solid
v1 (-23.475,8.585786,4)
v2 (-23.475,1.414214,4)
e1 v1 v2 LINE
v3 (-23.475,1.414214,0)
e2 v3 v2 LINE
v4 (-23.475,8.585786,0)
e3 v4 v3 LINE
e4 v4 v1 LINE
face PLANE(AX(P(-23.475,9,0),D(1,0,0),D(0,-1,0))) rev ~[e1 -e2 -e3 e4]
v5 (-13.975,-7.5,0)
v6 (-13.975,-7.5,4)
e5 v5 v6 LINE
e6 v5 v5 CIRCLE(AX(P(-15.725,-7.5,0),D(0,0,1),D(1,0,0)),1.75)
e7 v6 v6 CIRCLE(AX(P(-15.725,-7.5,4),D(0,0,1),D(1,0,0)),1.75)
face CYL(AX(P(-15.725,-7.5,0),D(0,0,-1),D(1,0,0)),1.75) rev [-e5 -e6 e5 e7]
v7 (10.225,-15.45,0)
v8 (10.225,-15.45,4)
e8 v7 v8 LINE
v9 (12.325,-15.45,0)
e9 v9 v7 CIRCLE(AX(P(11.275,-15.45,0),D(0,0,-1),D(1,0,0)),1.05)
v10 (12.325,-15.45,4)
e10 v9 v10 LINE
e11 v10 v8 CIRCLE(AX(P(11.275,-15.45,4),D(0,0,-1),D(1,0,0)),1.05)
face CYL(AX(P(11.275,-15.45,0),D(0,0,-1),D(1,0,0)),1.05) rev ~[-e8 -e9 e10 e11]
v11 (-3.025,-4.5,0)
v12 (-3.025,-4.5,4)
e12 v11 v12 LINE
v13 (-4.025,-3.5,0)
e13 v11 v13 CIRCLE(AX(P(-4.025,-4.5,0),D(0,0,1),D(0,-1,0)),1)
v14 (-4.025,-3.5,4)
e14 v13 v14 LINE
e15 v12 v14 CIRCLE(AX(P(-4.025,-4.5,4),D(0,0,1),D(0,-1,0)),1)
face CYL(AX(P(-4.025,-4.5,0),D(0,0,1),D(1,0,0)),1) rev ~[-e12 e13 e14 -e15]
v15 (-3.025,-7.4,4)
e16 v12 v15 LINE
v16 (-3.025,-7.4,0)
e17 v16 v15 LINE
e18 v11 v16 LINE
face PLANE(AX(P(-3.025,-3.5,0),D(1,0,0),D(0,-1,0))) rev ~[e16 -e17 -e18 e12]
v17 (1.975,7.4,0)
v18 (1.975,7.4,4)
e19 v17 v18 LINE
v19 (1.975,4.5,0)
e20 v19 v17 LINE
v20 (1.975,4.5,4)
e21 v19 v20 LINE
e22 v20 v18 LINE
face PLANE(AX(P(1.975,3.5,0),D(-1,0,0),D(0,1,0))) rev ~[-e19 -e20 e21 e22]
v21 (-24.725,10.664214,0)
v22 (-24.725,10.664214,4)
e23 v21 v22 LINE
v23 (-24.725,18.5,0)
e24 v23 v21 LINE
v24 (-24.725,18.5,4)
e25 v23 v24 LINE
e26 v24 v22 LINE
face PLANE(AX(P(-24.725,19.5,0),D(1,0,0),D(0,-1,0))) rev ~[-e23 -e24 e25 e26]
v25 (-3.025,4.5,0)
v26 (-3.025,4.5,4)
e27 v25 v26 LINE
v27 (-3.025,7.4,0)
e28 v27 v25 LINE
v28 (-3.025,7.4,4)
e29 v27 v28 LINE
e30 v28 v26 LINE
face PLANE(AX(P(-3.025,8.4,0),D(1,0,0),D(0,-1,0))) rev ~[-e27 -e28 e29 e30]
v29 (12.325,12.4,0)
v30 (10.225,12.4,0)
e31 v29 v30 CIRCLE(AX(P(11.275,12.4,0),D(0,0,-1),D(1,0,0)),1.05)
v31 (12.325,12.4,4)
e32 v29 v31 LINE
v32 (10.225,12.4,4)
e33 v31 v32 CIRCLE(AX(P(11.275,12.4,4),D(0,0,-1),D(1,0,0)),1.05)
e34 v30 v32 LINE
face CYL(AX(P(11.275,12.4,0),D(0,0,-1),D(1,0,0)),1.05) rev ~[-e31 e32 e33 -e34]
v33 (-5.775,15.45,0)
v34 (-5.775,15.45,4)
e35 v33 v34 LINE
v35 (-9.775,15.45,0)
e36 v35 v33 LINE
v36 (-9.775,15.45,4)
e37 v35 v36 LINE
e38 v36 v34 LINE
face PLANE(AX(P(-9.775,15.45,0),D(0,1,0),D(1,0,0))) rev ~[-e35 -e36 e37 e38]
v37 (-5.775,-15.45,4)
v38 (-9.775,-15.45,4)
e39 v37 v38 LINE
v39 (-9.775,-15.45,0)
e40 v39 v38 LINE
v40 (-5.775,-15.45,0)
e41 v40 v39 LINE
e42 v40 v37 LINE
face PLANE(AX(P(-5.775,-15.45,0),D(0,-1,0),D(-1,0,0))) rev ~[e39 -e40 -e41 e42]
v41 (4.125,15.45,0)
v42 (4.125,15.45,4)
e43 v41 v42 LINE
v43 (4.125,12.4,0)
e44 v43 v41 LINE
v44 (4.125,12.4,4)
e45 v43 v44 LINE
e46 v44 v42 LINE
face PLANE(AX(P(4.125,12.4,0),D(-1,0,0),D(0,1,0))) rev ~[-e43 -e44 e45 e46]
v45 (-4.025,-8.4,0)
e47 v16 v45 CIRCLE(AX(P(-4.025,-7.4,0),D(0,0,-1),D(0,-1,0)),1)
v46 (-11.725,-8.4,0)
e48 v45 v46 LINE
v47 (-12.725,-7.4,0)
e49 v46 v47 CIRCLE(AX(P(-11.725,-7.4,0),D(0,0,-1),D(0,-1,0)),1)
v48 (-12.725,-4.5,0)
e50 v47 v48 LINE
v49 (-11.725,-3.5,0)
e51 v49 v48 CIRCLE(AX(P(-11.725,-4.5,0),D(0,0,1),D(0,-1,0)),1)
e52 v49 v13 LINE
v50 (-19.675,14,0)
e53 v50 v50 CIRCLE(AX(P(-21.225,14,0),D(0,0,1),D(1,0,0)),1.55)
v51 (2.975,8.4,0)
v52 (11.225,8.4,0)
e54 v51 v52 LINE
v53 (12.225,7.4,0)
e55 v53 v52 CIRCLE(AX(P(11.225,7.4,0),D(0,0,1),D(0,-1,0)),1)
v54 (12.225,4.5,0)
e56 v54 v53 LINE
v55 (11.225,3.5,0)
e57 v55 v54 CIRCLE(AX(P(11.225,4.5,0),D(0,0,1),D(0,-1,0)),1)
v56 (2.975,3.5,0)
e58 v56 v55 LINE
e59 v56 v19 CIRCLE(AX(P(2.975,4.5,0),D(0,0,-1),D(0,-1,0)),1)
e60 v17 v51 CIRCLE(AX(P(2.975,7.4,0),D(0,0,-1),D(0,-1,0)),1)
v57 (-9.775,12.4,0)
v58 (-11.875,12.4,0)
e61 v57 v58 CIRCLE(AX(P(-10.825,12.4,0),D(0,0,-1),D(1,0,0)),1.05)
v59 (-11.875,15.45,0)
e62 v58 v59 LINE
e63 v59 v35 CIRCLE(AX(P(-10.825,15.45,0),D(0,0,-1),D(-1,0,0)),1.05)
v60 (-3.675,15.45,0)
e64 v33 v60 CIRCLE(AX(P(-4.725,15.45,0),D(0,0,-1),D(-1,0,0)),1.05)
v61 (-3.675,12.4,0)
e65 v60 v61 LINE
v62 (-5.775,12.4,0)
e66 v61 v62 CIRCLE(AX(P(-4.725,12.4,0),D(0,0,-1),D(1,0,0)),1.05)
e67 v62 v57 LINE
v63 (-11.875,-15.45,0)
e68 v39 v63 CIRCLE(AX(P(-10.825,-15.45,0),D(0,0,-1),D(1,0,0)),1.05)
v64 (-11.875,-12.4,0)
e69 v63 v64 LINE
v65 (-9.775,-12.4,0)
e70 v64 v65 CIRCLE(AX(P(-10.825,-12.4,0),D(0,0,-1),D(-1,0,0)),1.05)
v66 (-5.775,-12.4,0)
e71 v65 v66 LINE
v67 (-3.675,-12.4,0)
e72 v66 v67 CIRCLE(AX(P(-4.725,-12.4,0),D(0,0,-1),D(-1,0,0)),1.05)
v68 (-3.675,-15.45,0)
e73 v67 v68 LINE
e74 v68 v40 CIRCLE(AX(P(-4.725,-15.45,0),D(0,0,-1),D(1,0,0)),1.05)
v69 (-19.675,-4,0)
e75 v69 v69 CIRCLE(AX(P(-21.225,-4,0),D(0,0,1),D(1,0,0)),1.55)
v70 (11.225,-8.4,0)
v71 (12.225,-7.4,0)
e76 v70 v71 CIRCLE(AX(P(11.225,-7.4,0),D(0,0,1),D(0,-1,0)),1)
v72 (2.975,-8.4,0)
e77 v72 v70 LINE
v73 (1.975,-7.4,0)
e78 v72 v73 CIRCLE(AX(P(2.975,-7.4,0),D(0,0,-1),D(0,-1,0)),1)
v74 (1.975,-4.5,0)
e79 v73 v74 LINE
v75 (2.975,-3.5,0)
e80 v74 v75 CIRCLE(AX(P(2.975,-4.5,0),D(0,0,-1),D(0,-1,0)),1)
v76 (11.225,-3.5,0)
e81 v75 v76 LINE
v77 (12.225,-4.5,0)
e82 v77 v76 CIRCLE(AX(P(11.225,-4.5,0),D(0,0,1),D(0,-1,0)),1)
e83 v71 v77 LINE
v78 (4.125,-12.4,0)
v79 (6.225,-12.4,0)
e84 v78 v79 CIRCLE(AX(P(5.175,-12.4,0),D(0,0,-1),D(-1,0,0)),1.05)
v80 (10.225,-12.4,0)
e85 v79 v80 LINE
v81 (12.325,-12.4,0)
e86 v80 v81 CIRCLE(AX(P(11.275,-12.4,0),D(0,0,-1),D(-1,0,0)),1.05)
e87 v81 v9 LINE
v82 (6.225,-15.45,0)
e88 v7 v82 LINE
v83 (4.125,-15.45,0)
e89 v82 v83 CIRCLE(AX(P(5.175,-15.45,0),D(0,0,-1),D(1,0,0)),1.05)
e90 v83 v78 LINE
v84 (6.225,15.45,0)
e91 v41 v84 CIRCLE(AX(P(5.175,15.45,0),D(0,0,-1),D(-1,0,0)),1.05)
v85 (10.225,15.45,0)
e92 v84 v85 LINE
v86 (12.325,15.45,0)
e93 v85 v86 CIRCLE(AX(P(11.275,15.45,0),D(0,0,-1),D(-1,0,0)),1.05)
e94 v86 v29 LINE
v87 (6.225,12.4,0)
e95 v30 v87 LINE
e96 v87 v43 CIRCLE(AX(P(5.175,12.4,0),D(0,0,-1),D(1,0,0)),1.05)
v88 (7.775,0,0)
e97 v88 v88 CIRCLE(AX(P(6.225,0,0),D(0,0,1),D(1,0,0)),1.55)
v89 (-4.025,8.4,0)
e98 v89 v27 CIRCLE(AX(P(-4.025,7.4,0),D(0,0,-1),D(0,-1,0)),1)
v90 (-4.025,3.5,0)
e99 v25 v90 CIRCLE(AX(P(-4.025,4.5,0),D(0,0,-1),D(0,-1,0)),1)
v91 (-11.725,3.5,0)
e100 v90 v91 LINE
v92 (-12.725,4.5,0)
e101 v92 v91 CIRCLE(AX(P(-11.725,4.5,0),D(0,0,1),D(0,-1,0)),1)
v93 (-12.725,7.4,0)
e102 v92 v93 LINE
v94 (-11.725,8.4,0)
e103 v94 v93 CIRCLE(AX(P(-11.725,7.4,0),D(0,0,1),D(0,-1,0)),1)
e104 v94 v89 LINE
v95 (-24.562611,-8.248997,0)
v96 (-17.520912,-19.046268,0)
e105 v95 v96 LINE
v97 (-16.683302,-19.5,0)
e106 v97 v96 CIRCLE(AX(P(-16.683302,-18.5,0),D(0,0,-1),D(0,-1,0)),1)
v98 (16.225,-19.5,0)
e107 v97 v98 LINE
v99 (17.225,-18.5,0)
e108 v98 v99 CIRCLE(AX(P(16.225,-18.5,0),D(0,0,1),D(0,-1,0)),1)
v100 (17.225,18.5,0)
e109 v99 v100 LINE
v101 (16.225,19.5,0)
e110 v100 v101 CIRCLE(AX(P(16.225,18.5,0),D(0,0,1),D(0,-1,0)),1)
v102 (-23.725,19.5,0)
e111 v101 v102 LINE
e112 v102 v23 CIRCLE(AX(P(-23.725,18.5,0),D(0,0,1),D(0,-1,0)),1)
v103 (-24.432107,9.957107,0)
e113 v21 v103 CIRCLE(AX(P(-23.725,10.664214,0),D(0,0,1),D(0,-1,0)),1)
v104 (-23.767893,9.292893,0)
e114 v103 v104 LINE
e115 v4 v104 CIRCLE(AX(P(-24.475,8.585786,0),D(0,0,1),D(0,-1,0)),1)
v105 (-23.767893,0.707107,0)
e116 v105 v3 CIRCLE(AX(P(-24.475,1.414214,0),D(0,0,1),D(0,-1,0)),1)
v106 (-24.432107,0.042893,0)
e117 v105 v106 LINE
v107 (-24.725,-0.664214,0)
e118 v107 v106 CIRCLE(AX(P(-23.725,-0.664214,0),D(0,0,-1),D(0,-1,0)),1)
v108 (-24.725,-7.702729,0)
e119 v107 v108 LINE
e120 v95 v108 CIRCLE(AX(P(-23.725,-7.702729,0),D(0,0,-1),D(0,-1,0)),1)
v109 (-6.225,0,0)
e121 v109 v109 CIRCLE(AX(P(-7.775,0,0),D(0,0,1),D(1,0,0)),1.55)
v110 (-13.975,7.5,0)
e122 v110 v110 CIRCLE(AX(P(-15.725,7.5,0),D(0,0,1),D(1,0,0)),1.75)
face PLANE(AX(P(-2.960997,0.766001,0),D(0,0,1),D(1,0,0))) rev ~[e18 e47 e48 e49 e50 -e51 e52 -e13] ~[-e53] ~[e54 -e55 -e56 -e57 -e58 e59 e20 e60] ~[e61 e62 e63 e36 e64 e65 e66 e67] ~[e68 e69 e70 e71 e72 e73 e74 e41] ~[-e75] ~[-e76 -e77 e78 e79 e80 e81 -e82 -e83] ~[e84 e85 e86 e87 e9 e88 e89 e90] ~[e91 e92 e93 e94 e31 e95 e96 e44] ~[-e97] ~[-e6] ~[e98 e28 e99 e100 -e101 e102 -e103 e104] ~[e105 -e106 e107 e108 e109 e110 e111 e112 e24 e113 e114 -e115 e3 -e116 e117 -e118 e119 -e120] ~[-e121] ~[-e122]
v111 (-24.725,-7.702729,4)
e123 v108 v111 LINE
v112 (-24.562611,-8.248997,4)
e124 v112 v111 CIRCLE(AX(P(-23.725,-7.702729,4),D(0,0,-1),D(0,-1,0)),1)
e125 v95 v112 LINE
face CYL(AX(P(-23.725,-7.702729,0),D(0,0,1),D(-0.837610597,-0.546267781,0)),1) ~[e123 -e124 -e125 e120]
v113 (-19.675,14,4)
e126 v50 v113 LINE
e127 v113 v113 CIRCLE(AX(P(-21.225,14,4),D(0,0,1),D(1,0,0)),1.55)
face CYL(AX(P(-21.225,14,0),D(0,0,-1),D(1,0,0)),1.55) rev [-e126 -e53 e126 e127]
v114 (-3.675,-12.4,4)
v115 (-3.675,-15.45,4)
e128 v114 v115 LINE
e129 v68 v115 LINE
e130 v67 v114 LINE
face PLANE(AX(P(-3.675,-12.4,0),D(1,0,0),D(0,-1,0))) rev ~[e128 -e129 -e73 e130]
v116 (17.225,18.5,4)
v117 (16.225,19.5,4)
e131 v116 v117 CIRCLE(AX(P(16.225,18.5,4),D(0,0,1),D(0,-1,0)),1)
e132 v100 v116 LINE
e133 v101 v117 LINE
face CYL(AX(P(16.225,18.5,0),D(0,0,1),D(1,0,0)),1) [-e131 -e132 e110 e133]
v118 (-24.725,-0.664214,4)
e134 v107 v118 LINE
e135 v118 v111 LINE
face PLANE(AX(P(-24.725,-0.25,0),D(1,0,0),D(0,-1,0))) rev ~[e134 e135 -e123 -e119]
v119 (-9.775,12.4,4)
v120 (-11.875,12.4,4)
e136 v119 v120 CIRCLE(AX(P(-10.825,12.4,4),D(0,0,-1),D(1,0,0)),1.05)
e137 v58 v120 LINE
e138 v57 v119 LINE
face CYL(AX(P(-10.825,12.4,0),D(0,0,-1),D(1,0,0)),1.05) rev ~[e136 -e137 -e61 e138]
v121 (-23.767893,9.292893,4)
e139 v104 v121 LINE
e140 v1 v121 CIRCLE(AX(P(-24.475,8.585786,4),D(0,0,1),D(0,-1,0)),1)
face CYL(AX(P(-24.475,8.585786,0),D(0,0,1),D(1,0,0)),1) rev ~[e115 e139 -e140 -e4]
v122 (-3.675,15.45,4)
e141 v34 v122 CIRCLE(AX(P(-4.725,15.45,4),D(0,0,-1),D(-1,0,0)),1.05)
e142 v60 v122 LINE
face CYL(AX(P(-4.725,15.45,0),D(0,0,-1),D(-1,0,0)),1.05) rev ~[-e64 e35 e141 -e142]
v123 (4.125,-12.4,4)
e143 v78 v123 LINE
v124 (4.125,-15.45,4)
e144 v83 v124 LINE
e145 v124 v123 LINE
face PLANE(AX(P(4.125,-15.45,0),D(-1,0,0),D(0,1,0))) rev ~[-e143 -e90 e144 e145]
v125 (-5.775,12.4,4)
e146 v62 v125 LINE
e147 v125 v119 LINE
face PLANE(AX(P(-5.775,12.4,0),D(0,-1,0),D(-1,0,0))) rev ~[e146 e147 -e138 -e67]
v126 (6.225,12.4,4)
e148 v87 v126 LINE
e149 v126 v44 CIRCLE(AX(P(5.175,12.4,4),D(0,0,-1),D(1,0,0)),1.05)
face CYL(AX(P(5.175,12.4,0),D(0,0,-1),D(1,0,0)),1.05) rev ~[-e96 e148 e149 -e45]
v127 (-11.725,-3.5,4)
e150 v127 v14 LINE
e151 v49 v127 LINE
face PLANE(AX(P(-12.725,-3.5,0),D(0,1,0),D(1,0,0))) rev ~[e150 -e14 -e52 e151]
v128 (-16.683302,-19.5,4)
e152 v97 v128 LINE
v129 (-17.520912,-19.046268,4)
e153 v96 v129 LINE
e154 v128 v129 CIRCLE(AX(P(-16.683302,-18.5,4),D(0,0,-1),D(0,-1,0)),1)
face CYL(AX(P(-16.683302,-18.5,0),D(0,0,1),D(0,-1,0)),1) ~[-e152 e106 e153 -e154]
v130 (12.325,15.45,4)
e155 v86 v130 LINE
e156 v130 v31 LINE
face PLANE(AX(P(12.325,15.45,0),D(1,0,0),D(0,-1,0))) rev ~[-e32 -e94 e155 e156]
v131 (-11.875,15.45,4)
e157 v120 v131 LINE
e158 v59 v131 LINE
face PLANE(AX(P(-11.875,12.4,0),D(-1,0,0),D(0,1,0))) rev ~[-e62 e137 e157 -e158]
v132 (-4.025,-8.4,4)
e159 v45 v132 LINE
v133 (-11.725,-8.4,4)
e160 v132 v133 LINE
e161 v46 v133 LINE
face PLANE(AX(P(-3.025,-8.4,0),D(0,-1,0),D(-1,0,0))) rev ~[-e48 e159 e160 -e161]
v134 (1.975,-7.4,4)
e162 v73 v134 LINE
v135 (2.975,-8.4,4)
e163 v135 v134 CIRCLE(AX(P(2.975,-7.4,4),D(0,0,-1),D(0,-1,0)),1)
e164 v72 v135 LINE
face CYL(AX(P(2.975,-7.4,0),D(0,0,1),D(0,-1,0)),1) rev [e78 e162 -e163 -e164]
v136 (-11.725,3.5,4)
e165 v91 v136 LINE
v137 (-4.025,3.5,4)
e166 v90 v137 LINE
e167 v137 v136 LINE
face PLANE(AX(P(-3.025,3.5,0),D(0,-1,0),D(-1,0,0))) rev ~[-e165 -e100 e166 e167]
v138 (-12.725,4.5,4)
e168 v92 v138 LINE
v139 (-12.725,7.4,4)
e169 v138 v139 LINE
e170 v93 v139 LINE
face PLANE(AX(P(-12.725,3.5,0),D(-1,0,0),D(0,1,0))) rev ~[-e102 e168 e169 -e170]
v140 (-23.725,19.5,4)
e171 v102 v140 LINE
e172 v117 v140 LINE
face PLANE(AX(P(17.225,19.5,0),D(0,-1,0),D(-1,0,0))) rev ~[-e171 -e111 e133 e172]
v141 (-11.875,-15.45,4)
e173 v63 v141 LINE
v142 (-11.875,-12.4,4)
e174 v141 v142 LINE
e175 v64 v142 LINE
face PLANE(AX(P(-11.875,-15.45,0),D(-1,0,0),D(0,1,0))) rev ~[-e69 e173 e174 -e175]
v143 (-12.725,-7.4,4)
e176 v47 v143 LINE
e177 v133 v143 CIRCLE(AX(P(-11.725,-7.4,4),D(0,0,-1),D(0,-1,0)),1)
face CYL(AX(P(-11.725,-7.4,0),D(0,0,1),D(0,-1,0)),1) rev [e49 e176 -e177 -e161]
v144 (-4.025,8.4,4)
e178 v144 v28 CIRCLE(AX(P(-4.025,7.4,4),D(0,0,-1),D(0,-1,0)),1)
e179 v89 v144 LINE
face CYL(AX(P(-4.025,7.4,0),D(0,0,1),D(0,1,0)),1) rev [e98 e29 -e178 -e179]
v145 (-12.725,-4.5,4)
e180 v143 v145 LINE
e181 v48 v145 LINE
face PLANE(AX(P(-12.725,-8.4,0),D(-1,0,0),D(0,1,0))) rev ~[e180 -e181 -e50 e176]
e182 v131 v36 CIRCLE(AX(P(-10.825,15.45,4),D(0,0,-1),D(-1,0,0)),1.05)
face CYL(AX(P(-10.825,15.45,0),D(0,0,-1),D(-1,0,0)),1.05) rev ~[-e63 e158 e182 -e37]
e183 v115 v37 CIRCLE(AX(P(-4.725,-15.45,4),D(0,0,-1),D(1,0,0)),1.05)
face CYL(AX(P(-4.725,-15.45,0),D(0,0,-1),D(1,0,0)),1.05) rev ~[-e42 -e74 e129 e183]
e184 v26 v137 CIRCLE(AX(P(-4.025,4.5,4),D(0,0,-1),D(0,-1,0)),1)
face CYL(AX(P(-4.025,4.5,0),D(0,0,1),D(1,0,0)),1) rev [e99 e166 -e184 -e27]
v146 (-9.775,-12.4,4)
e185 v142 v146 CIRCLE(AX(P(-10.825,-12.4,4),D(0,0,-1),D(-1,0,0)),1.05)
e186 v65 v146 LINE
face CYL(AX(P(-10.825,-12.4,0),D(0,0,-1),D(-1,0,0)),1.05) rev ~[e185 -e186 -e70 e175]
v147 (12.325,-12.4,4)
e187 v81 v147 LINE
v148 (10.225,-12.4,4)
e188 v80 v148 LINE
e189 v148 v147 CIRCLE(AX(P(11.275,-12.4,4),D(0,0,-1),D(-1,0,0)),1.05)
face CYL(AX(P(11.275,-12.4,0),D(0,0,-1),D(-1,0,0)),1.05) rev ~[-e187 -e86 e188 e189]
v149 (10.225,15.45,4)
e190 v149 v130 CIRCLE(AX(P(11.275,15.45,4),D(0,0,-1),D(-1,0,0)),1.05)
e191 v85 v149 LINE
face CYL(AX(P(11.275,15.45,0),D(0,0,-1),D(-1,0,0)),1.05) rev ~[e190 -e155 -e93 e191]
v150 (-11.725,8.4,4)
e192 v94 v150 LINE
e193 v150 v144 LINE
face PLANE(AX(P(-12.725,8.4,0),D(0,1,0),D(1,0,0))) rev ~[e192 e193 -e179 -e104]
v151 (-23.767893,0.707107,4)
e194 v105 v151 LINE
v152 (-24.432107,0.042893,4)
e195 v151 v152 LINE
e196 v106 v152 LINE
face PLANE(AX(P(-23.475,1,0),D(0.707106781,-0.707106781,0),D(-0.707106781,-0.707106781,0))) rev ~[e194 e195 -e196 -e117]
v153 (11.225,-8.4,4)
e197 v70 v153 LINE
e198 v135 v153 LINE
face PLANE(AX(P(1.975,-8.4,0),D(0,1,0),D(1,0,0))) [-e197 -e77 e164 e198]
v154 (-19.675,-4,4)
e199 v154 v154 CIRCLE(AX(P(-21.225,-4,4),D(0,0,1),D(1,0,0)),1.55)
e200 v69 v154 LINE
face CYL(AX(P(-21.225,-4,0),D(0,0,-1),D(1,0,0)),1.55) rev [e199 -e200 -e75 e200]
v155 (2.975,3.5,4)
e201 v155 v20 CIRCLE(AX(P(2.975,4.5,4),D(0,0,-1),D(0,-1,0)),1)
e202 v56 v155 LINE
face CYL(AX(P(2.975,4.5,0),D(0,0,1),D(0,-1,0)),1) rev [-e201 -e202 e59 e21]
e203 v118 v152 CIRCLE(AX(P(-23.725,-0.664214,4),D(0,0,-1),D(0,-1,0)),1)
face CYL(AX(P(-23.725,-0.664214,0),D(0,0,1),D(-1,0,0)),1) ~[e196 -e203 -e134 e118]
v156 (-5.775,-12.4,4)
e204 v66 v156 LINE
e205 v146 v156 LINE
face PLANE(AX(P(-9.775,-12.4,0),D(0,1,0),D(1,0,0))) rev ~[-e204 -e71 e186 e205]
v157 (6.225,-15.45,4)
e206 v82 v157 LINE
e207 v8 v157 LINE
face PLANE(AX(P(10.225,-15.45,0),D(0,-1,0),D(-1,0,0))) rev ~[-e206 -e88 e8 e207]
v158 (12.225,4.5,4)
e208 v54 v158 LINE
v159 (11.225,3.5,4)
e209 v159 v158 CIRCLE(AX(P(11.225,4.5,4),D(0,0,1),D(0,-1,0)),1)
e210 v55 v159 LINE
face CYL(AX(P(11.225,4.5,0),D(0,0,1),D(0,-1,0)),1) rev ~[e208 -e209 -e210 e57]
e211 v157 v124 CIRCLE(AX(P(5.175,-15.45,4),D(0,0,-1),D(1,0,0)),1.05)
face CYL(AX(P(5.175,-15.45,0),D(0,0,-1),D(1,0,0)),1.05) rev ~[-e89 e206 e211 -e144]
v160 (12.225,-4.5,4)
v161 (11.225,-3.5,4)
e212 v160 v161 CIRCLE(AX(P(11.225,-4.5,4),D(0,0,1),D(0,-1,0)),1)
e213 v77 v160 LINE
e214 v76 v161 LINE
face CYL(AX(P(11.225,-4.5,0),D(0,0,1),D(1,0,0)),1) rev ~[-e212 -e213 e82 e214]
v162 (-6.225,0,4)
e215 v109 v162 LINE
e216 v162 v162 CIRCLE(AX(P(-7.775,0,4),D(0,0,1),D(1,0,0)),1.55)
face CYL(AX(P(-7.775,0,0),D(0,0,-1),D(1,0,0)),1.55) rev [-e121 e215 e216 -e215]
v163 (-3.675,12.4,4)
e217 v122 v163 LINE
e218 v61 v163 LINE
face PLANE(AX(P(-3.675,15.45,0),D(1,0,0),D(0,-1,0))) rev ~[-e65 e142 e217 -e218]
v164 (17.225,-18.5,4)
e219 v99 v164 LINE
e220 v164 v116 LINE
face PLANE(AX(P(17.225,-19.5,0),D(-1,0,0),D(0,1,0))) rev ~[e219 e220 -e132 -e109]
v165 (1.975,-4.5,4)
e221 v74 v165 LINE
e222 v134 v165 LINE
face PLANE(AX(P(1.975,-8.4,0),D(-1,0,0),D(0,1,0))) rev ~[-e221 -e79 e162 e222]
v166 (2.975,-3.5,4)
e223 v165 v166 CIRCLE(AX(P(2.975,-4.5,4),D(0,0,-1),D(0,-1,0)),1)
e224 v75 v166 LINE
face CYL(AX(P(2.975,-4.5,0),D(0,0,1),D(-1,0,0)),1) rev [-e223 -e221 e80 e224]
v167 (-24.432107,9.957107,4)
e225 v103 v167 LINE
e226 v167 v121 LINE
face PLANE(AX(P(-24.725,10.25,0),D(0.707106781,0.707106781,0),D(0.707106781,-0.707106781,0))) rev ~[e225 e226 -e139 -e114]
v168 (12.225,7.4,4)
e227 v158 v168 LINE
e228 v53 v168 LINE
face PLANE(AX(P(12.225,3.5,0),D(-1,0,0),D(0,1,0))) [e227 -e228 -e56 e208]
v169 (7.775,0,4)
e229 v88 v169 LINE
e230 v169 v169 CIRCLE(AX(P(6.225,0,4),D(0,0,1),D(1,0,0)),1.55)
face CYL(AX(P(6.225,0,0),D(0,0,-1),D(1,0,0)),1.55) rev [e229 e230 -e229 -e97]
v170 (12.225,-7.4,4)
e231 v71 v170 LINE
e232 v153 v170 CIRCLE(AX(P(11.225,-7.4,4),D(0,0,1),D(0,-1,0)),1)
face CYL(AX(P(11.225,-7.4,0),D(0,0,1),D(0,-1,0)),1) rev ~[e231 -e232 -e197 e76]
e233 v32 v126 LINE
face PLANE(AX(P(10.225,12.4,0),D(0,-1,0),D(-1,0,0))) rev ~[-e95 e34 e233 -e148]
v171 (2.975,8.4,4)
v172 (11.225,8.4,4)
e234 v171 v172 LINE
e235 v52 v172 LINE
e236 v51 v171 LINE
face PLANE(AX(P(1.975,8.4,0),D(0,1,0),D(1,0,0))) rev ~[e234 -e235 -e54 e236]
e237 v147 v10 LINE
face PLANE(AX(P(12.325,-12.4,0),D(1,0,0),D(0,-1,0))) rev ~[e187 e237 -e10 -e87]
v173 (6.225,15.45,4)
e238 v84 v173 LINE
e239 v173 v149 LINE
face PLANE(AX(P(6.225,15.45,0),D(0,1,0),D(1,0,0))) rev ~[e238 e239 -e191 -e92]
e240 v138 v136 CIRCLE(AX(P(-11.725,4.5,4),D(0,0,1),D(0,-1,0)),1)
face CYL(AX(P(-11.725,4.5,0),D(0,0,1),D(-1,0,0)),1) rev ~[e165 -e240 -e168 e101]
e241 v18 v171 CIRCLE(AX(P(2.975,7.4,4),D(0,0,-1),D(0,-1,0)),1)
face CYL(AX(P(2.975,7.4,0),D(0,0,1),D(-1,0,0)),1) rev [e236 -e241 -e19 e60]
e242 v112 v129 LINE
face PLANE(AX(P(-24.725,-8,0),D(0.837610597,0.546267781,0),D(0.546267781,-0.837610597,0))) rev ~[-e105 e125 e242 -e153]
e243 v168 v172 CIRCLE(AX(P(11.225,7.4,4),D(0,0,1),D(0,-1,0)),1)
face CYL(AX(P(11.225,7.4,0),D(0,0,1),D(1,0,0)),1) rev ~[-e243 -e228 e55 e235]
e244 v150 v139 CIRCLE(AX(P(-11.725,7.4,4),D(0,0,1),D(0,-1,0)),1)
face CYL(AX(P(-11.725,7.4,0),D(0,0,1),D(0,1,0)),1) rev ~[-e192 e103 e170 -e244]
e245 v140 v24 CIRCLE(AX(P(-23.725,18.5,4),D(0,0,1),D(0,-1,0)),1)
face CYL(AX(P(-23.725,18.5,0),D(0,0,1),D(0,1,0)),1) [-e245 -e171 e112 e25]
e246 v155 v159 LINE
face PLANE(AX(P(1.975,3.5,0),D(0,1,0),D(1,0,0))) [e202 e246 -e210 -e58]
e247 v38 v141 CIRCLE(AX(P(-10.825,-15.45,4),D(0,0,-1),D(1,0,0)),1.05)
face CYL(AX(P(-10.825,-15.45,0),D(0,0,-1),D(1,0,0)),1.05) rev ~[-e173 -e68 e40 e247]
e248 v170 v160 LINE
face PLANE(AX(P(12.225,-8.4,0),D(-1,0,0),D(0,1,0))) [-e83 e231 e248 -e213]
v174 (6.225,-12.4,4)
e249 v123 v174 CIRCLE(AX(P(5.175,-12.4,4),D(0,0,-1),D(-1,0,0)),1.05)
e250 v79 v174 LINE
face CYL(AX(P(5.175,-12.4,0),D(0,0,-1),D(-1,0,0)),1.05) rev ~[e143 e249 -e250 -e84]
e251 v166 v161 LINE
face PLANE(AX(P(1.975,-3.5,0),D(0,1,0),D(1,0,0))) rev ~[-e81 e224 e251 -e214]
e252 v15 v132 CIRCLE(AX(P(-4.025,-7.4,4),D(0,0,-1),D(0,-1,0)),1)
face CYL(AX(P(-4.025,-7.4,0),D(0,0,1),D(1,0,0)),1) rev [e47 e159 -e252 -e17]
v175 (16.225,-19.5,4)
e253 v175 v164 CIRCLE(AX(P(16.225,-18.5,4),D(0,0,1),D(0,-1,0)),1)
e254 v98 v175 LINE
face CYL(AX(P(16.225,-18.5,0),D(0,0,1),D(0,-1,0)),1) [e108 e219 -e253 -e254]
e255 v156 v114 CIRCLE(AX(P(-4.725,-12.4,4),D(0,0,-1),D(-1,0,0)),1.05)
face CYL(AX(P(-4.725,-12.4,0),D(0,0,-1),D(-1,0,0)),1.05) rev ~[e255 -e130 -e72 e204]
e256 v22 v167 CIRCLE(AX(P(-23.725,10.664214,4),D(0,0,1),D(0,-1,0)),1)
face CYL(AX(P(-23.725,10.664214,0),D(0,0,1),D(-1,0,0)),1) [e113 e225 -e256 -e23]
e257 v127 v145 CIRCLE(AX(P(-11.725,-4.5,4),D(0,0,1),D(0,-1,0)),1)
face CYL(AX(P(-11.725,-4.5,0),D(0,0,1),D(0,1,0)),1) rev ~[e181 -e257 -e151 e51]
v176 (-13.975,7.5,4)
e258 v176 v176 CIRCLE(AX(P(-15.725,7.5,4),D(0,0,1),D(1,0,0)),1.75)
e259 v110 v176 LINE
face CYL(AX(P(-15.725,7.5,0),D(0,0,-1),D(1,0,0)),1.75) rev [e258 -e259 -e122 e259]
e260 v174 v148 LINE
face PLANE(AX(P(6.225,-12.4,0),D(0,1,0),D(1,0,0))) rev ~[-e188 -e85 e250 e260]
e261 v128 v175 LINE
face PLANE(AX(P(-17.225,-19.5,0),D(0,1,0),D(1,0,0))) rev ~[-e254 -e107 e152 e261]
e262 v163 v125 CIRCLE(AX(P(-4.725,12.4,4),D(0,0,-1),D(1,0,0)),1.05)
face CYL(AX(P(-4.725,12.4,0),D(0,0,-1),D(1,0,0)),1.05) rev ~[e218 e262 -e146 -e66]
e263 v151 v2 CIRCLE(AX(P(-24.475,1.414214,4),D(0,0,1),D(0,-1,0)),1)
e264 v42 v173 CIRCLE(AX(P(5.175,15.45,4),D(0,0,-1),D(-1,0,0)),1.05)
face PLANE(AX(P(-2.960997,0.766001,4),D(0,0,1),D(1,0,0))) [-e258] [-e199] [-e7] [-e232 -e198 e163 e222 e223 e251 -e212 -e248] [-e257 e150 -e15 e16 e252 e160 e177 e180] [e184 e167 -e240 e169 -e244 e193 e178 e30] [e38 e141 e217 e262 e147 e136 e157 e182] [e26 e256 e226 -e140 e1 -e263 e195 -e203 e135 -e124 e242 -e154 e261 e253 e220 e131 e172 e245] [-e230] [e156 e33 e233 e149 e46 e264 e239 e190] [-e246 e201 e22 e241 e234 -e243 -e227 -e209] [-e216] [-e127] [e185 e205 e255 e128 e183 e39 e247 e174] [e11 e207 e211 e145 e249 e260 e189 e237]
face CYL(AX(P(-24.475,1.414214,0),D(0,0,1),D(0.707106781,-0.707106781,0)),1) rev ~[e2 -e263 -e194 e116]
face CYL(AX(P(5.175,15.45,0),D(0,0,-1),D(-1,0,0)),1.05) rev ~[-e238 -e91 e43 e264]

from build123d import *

# Parameters (mm, degrees)
SKETCH_1_R      = 1.75
SKETCH_1_R_2    = 1.55
SKETCH_1_W      = 10.25
SKETCH_1_H      = 4.9
EXTRUDE_1_DEPTH = 4
FILLET_1_R      = 1


with BuildPart() as part:
    # 草图1 → 凸台-拉伸1 (new body)
    with BuildSketch(Plane.XY):
        Polygon((-17.225, -19.5), (17.225, -19.5), (17.225, 19.5), (-14.225, 19.5), (-24.725, 19.5), (-24.725, 10.25), (-23.475, 9), (-23.475, 1), (-24.725, -0.25), (-24.725, -8), align=None)
        with BuildLine():
            Line((-5.775, -15.45), (-9.775, -15.45))
            ThreePointArc((-9.775, -15.45), (-10.825, -16.5), (-11.875, -15.45))
            Line((-11.875, -15.45), (-11.875, -12.4))
            ThreePointArc((-11.875, -12.4), (-10.825, -11.35), (-9.775, -12.4))
            Line((-9.775, -12.4), (-5.775, -12.4))
            ThreePointArc((-5.775, -12.4), (-4.725, -11.35), (-3.675, -12.4))
            Line((-3.675, -12.4), (-3.675, -15.45))
            ThreePointArc((-3.675, -15.45), (-4.725, -16.5), (-5.775, -15.45))
        make_face(mode=Mode.SUBTRACT)
        with Locations((-15.725, -7.5)):
            Circle(SKETCH_1_R, mode=Mode.SUBTRACT)
        with Locations((-21.225, -4)):
            Circle(SKETCH_1_R_2, mode=Mode.SUBTRACT)
        Polygon((-3.025, -8.4), (-12.225, -8.4), (-12.725, -8.4), (-12.725, -3.5), (-12.225, -3.5), (-3.025, -3.5), align=None, mode=Mode.SUBTRACT)
        with BuildLine():
            ThreePointArc((6.225, -15.45), (5.175, -16.5), (4.125, -15.45))
            Line((4.125, -15.45), (4.125, -12.4))
            ThreePointArc((4.125, -12.4), (5.175, -11.35), (6.225, -12.4))
            Line((6.225, -12.4), (10.225, -12.4))
            ThreePointArc((10.225, -12.4), (11.275, -11.35), (12.325, -12.4))
            Line((12.325, -12.4), (12.325, -15.45))
            ThreePointArc((12.325, -15.45), (11.275, -16.5), (10.225, -15.45))
            Line((10.225, -15.45), (6.225, -15.45))
        make_face(mode=Mode.SUBTRACT)
        with Locations((7.1, -5.95)):
            Rectangle(SKETCH_1_W, SKETCH_1_H, mode=Mode.SUBTRACT)
        with Locations((-15.725, 7.5)):
            Circle(SKETCH_1_R, mode=Mode.SUBTRACT)
        with Locations((-7.775, 0)):
            Circle(SKETCH_1_R_2, mode=Mode.SUBTRACT)
        Polygon((-12.225, 8.4), (-3.025, 8.4), (-3.025, 3.5), (-12.225, 3.5), (-12.725, 3.5), (-12.725, 8.4), align=None, mode=Mode.SUBTRACT)
        with Locations((-21.225, 14)):
            Circle(SKETCH_1_R_2, mode=Mode.SUBTRACT)
        with BuildLine():
            Line((-5.775, 12.4), (-9.775, 12.4))
            ThreePointArc((-9.775, 12.4), (-10.825, 11.35), (-11.875, 12.4))
            Line((-11.875, 12.4), (-11.875, 15.45))
            ThreePointArc((-11.875, 15.45), (-10.825, 16.5), (-9.775, 15.45))
            Line((-9.775, 15.45), (-5.775, 15.45))
            ThreePointArc((-5.775, 15.45), (-4.725, 16.5), (-3.675, 15.45))
            Line((-3.675, 15.45), (-3.675, 12.4))
            ThreePointArc((-3.675, 12.4), (-4.725, 11.35), (-5.775, 12.4))
        make_face(mode=Mode.SUBTRACT)
        with Locations((6.225, 0)):
            Circle(SKETCH_1_R_2, mode=Mode.SUBTRACT)
        with Locations((7.1, 5.95)):
            Rectangle(SKETCH_1_W, SKETCH_1_H, mode=Mode.SUBTRACT)
        with BuildLine():
            Line((10.225, 12.4), (6.225, 12.4))
            ThreePointArc((6.225, 12.4), (5.175, 11.35), (4.125, 12.4))
            Line((4.125, 12.4), (4.125, 15.45))
            ThreePointArc((4.125, 15.45), (5.175, 16.5), (6.225, 15.45))
            Line((6.225, 15.45), (10.225, 15.45))
            ThreePointArc((10.225, 15.45), (11.275, 16.5), (12.325, 15.45))
            Line((12.325, 15.45), (12.325, 12.4))
            ThreePointArc((12.325, 12.4), (11.275, 11.35), (10.225, 12.4))
        make_face(mode=Mode.SUBTRACT)
    extrude(amount=EXTRUDE_1_DEPTH)

    # 圆角1
    fillet_1_edges = [part.edges().sort_by_distance(p)[0] for p in [
        (-23.475, 1, 2),
        (-23.475, 9, 2),
        (-24.725, 10.25, 2),
        (-24.725, 19.5, 2),
        (17.225, 19.5, 2),
        (17.225, -19.5, 2),
        (-17.225, -19.5, 2),
        (-24.725, -8, 2),
        (-24.725, -0.25, 2),
        (-3.025, -8.4, 2),
        (-3.025, -3.5, 2),
        (-12.725, -3.5, 2),
        (-12.725, -8.4, 2),
        (-3.025, 3.5, 2),
        (-3.025, 8.4, 2),
        (-12.725, 8.4, 2),
        (-12.725, 3.5, 2),
        (12.225, 8.4, 2),
        (1.975, 8.4, 2),
        (1.975, 3.5, 2),
        (12.225, 3.5, 2),
        (1.975, -8.4, 2),
        (12.225, -8.4, 2),
        (12.225, -3.5, 2),
        (1.975, -3.5, 2),
    ]]
    fillet(fillet_1_edges, radius=FILLET_1_R)


solid = part.part
